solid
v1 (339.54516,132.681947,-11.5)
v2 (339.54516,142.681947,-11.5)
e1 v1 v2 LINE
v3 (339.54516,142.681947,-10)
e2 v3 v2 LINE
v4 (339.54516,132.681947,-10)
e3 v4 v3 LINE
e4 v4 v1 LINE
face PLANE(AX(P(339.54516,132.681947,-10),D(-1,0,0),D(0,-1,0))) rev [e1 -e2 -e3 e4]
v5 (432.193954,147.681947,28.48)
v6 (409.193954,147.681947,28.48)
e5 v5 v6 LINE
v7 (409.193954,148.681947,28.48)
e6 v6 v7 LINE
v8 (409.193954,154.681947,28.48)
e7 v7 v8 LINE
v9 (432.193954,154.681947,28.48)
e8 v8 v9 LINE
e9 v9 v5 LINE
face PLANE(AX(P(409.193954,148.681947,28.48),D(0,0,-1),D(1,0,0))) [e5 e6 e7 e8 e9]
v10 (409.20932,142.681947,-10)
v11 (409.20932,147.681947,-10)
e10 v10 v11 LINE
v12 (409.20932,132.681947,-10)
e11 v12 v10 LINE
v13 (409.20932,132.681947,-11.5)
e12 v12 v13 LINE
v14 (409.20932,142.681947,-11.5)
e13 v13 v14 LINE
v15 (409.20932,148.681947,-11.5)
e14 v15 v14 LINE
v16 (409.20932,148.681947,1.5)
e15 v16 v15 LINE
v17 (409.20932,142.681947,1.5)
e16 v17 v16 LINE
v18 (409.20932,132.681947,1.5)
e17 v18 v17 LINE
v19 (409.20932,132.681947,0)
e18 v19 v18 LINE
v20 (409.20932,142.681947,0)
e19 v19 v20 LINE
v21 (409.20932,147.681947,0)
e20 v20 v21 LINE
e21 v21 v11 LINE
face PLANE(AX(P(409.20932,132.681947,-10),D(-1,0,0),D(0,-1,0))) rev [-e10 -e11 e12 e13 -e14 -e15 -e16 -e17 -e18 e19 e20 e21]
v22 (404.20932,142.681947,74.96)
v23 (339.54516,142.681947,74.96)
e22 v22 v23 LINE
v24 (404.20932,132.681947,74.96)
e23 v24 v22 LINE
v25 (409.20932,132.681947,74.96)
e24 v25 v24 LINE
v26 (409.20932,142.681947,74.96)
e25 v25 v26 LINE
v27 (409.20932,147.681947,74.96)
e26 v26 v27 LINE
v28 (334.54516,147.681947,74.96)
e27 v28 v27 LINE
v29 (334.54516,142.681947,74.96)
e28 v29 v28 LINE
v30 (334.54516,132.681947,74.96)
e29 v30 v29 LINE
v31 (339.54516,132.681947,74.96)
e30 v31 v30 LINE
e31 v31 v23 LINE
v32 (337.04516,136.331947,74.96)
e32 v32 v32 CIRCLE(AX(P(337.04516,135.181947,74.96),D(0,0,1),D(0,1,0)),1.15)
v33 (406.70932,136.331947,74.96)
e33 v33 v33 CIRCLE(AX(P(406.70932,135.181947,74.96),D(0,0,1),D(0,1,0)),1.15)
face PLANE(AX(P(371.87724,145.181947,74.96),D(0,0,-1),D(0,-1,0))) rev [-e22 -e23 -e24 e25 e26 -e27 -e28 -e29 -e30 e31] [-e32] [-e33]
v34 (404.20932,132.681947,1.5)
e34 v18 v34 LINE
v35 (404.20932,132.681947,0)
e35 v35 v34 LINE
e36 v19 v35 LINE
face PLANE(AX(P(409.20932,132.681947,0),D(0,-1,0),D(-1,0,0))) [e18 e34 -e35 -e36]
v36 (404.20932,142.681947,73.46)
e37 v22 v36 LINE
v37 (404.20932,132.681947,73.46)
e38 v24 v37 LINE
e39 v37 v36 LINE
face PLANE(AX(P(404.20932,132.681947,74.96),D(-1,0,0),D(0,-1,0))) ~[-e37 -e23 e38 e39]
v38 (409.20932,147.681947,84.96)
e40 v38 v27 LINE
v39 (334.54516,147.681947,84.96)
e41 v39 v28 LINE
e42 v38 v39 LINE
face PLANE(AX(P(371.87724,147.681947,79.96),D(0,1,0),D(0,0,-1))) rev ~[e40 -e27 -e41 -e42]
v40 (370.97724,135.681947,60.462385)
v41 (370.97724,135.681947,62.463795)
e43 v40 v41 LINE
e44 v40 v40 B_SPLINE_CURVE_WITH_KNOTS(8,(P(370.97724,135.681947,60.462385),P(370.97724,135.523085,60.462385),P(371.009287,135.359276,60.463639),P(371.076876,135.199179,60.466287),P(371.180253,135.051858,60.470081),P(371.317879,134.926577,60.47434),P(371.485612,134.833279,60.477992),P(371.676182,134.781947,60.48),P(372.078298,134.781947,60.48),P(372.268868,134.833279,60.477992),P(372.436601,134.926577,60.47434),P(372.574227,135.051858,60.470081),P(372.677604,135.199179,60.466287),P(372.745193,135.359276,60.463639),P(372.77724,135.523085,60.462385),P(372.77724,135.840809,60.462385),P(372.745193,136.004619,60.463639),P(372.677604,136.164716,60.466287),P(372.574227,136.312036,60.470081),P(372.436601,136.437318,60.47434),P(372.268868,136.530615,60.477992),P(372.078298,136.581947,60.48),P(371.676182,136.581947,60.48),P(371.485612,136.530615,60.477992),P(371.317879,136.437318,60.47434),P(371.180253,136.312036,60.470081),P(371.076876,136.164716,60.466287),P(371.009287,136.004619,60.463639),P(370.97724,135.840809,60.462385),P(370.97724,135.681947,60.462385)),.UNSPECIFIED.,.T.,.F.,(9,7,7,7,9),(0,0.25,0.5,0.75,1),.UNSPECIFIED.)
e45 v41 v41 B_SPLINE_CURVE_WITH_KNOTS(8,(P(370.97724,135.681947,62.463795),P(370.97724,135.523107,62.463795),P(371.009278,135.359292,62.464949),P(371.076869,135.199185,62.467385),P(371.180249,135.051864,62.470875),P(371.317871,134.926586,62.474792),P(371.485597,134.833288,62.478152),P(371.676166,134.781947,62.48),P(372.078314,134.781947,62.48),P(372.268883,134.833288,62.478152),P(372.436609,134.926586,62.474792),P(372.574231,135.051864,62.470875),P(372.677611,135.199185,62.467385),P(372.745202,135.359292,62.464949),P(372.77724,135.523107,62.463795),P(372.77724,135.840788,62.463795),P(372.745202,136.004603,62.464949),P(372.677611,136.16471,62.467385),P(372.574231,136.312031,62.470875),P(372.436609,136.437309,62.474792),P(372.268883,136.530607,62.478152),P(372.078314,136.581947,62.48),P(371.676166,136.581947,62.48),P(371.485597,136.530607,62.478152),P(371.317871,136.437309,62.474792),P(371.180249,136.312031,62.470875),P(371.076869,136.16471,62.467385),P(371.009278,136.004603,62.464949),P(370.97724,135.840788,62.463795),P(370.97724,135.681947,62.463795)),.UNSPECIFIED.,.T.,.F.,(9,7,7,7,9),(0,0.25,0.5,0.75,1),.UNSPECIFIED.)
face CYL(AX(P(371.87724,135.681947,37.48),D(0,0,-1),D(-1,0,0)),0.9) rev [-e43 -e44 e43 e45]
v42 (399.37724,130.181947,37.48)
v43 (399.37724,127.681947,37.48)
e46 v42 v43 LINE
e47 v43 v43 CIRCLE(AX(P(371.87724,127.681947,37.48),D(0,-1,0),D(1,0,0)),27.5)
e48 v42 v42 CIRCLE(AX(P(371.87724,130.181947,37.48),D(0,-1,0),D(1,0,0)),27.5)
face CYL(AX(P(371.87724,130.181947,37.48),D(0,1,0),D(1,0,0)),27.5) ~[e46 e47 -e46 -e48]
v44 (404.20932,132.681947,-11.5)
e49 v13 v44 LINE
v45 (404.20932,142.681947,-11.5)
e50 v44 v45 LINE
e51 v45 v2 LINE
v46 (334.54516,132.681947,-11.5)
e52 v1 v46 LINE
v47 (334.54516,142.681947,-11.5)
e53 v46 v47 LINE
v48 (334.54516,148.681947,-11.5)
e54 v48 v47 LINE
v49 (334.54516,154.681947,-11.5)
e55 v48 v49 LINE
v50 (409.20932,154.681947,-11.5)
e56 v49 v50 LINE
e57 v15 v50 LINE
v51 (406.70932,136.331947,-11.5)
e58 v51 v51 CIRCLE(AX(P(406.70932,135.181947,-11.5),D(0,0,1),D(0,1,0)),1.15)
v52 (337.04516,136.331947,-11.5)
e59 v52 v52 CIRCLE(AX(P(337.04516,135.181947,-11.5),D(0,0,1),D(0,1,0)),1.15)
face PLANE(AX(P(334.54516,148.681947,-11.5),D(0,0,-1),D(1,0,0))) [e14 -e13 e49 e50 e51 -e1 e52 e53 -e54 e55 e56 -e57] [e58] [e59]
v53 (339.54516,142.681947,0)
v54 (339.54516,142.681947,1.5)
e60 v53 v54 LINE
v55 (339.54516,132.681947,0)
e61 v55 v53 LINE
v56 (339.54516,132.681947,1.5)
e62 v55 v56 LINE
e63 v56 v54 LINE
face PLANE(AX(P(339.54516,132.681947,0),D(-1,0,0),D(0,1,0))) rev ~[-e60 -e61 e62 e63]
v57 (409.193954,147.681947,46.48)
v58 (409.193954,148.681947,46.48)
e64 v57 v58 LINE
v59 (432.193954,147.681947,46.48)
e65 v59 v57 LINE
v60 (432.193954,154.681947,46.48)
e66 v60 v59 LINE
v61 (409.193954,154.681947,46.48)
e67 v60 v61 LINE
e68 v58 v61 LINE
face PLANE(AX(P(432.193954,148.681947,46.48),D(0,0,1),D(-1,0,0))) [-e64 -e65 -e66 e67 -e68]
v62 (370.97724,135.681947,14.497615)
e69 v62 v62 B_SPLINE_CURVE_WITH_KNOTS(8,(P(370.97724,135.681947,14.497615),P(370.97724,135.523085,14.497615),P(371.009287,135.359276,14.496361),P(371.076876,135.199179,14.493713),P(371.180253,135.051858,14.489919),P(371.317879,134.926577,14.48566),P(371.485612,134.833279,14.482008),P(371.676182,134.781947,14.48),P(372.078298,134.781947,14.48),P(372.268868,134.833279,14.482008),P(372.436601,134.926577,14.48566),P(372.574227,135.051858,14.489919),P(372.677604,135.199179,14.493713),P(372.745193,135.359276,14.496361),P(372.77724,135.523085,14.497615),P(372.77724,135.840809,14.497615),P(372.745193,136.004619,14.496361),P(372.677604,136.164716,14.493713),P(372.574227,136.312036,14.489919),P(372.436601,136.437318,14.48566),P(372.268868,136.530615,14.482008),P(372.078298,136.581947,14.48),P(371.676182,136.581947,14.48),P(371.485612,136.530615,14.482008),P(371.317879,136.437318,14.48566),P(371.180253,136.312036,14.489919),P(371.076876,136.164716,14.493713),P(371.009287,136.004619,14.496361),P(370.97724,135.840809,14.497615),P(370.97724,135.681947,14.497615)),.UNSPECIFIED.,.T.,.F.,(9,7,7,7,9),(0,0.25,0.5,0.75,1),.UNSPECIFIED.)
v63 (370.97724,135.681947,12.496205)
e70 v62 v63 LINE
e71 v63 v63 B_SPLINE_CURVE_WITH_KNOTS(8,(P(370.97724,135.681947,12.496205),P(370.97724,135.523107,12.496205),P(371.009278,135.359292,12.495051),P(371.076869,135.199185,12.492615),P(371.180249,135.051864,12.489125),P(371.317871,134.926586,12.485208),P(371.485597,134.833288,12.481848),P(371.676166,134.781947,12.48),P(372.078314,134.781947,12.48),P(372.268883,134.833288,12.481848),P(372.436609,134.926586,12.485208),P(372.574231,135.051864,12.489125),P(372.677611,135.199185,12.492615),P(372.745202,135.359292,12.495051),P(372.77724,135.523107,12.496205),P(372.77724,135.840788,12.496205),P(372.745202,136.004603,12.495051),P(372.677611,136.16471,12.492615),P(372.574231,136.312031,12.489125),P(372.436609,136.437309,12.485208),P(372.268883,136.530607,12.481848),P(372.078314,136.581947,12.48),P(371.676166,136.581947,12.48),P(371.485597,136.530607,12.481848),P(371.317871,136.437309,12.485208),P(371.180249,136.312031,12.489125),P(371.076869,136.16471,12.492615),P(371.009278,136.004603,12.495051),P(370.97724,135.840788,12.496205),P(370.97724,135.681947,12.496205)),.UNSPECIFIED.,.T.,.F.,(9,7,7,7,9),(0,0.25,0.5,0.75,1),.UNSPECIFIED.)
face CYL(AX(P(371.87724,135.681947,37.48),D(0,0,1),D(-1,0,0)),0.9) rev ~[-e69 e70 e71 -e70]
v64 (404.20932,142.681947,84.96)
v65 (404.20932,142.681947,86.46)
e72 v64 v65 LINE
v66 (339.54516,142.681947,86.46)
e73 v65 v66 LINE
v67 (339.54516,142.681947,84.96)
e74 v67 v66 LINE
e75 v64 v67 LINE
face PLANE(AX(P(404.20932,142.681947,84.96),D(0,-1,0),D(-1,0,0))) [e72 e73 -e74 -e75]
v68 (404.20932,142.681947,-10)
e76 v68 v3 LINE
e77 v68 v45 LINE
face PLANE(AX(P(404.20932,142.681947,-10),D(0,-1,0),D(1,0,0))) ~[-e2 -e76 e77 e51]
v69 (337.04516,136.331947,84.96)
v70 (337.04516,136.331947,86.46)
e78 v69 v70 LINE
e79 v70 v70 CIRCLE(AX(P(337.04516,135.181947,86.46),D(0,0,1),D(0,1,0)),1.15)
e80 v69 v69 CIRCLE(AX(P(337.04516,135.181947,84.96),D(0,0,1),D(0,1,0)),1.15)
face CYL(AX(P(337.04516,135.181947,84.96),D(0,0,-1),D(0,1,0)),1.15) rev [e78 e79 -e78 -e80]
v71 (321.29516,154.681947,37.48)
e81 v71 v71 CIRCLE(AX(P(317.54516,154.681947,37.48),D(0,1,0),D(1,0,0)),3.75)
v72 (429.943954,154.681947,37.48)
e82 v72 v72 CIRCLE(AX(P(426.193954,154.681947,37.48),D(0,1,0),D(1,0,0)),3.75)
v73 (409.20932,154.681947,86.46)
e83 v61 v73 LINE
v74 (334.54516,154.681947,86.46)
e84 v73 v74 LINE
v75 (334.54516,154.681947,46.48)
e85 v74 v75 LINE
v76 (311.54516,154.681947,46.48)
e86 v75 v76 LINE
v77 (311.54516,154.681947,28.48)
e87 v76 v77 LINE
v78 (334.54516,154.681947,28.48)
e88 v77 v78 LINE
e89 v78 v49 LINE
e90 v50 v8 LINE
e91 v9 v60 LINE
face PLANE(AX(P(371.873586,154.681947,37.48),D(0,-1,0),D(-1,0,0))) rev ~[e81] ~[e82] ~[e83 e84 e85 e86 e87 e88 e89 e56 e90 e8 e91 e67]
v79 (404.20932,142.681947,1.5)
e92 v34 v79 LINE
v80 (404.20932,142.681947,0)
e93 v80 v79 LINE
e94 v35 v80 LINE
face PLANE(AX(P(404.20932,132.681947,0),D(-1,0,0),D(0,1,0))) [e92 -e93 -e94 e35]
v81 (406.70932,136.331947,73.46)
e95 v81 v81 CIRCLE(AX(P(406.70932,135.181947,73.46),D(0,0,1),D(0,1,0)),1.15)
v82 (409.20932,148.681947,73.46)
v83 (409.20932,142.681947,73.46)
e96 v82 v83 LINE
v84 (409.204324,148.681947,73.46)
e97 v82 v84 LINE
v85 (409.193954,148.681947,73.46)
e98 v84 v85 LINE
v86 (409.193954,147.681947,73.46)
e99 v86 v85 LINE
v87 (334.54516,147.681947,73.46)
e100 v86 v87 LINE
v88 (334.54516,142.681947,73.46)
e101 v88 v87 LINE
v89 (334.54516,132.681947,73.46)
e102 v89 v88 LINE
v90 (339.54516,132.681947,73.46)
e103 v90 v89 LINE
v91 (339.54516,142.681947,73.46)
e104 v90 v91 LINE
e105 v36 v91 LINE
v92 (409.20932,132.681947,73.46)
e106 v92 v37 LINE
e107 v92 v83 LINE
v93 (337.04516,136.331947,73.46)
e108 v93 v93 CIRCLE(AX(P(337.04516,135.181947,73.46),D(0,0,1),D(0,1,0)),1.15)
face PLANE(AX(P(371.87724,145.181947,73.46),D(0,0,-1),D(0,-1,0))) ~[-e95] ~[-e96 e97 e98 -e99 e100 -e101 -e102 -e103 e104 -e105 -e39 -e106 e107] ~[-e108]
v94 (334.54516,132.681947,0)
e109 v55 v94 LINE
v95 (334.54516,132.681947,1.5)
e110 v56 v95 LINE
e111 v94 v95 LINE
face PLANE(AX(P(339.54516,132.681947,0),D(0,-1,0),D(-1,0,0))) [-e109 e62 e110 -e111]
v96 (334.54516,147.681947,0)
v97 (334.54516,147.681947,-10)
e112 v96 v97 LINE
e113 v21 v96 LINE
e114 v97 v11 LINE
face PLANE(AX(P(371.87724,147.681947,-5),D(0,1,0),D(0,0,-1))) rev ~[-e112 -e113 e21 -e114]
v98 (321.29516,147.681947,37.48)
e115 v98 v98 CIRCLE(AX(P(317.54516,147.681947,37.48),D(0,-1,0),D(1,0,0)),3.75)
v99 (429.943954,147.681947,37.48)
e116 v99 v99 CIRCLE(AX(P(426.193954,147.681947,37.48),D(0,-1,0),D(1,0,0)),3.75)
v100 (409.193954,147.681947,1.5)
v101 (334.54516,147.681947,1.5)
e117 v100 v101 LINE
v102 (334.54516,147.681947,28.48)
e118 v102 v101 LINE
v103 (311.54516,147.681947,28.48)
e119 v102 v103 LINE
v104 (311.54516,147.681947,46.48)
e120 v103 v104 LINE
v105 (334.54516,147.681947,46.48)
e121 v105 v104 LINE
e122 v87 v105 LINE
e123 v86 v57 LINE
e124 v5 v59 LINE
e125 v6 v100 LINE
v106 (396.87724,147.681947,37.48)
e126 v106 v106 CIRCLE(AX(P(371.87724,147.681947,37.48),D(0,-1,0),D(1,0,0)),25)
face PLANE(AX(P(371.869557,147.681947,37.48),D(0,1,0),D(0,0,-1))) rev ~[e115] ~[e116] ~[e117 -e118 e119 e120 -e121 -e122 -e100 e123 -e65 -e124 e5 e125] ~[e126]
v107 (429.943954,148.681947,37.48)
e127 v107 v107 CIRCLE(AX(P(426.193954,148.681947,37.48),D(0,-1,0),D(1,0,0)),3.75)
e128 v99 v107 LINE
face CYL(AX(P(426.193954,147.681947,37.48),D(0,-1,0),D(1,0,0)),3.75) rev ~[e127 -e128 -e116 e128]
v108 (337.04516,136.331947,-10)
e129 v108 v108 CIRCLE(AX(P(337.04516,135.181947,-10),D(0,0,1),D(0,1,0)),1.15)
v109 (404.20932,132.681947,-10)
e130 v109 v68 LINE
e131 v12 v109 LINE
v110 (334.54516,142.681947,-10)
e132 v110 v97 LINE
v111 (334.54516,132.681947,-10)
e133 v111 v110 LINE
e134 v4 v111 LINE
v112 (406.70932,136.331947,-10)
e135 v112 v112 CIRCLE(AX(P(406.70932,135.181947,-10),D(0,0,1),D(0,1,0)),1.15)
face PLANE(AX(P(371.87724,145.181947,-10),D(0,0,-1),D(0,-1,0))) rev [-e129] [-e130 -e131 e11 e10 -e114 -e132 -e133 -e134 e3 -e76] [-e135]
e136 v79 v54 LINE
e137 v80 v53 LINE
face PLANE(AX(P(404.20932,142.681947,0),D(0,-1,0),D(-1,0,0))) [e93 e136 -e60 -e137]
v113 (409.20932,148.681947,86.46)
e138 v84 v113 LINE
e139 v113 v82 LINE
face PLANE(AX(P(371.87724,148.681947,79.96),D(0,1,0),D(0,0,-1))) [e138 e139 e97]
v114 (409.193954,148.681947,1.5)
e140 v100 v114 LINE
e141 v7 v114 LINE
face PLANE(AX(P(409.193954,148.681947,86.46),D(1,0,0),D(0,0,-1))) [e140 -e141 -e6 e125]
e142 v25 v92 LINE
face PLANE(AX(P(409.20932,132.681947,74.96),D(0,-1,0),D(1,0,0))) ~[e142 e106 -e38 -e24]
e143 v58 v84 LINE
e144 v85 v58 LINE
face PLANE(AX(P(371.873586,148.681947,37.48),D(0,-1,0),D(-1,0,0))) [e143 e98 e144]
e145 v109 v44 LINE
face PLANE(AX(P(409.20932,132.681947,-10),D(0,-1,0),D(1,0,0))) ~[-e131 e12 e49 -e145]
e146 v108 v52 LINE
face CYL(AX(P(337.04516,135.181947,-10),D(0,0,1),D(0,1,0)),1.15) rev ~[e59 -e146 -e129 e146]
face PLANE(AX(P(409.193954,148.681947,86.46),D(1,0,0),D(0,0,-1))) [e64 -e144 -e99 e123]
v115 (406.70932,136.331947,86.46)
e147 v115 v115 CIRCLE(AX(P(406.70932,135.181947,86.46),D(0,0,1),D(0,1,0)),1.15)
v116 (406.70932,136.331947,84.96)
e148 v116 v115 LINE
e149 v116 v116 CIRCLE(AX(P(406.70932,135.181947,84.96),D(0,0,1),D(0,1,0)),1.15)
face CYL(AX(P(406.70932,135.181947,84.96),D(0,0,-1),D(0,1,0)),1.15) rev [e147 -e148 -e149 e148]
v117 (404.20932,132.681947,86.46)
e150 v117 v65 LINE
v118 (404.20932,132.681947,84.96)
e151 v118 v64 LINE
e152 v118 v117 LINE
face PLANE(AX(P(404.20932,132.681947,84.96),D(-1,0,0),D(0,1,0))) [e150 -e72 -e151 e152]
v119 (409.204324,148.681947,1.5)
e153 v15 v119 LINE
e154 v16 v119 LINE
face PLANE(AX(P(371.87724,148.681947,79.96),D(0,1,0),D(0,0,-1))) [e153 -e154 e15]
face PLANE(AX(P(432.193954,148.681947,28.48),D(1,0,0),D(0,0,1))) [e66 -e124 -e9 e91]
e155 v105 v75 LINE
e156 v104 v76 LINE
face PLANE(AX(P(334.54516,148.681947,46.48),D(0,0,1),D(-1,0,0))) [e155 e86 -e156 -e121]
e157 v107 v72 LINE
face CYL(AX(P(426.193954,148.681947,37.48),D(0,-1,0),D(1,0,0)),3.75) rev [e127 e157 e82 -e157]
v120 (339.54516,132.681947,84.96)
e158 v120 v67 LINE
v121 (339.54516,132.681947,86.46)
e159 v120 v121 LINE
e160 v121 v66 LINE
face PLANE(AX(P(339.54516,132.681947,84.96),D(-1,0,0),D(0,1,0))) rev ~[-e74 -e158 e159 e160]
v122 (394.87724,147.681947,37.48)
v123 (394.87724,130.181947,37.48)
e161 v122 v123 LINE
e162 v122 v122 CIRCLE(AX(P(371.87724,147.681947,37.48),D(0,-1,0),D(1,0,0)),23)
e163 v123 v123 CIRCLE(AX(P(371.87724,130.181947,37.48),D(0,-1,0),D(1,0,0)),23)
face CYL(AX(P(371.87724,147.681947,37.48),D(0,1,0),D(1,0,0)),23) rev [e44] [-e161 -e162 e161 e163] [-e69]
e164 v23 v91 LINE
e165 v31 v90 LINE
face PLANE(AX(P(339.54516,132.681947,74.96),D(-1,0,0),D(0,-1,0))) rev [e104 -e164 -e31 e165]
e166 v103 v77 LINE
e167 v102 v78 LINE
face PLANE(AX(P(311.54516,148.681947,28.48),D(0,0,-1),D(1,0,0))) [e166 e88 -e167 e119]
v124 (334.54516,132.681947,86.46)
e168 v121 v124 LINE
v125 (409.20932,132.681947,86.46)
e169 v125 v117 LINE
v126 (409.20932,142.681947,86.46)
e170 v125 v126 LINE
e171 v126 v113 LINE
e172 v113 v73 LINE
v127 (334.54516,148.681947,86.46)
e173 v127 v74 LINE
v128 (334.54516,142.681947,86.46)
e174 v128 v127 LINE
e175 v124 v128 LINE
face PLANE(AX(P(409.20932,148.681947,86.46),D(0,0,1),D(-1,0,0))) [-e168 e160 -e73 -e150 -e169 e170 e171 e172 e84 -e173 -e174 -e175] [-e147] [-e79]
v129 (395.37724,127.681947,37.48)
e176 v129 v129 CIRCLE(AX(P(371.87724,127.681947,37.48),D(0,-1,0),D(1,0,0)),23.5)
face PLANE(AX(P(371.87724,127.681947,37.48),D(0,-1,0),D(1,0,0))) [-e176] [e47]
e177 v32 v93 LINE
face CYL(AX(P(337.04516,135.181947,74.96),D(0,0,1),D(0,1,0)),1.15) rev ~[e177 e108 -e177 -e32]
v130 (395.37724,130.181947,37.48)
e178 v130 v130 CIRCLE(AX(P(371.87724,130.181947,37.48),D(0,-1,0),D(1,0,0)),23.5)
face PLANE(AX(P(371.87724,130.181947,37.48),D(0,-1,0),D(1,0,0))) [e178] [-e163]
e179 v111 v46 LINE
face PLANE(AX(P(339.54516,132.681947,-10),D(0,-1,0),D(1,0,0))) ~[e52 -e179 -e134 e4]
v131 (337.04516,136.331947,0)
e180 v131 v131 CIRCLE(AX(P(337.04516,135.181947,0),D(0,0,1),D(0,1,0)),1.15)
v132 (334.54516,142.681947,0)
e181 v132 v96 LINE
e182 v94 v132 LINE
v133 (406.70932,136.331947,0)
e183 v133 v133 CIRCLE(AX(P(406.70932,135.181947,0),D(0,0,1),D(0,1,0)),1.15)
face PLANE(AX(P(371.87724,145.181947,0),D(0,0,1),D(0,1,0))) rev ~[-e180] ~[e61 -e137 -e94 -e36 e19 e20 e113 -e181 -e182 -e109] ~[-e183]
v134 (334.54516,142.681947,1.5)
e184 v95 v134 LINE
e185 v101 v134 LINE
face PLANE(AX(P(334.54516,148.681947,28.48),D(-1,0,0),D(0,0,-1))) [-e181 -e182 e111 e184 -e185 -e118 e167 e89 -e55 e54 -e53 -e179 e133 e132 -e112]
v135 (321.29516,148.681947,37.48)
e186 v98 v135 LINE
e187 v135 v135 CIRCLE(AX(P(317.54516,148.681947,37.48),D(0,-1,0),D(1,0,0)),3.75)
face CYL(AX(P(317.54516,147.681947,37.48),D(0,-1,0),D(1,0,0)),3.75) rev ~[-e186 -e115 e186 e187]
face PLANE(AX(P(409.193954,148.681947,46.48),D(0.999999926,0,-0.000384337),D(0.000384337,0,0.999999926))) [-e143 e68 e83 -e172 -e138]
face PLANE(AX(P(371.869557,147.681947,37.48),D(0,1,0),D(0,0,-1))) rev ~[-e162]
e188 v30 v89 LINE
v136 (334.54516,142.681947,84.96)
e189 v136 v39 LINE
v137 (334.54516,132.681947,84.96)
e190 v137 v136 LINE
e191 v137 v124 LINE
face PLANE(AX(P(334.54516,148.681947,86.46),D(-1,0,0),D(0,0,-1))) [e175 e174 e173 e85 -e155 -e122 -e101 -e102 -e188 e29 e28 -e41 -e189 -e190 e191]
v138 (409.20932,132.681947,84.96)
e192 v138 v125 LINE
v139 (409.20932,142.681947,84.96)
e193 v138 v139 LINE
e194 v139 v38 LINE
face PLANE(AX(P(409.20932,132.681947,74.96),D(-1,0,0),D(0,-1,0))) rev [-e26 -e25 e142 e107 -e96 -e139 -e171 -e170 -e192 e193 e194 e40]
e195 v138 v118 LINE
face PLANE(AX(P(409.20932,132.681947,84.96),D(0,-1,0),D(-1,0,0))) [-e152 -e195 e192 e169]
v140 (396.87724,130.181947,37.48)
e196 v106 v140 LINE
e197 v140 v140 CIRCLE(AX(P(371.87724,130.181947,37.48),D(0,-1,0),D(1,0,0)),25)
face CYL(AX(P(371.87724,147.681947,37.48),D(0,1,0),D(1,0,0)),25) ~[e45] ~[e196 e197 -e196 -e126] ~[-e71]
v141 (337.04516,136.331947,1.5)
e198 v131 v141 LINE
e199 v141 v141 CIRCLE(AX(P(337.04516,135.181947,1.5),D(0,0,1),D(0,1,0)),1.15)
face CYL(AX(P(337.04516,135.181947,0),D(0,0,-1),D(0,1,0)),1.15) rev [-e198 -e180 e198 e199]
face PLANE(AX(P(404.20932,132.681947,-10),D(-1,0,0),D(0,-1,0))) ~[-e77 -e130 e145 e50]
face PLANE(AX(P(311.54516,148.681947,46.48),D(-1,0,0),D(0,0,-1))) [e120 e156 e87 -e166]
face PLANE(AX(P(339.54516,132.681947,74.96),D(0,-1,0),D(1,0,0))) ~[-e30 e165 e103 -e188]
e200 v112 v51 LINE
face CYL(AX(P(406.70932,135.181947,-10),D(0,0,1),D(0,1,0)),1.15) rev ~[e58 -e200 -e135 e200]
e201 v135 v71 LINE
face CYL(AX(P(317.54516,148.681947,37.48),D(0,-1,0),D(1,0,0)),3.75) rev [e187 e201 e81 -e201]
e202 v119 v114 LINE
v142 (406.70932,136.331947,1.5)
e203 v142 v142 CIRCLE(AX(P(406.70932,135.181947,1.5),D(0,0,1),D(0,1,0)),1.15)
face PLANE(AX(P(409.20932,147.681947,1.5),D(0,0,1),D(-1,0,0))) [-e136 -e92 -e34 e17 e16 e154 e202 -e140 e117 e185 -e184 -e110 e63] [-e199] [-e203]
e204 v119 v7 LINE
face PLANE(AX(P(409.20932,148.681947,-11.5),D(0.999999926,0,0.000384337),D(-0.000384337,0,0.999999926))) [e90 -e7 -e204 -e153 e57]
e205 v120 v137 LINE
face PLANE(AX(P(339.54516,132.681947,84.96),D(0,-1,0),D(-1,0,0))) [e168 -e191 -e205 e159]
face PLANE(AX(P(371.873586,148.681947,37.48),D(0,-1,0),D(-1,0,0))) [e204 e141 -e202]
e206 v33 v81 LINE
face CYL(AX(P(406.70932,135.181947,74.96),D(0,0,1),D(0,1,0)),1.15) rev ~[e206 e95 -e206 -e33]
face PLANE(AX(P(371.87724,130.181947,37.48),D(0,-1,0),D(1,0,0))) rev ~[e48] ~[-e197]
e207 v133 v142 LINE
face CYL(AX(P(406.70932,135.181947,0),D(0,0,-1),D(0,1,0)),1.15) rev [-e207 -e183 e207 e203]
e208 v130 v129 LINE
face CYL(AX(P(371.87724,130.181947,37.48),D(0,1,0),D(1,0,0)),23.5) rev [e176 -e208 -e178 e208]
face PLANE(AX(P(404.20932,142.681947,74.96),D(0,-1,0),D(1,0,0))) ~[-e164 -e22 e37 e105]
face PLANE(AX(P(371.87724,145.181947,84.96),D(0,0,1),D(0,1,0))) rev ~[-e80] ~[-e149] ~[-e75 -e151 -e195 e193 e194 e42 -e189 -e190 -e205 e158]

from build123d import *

# Parameters (mm, degrees)
SKETCH2_W               = 5
SKETCH2_H               = 74.664160083
SKETCH2_W_2             = 10
SKETCH2_H_2             = 5
SKETCH2_R               = 1.15
BOSS_EXTRUDE1_DEPTH     = 1.5
SKETCH3_W               = 13
SKETCH3_H               = 74.664160083
BOSS_EXTRUDE2_DEPTH     = 1
SKETCH5_W               = 97.96
SKETCH5_H               = 74.648794292
BOSS_EXTRUDE3_DEPTH     = 1
SKETCH6_R               = 25
SKETCH6_R_2             = 23
BOSS_EXTRUDE4_DEPTH     = 17.5
SKETCH8_R               = 27.5
SKETCH8_R_2             = 23.5
BOSS_EXTRUDE6_DEPTH     = 2.5
SKETCH13_W              = 18
SKETCH13_H              = 23
BOSS_EXTRUDE7_DEPTH     = 1
SKETCH15_R              = 3.75
CUT_EXTRUDE3_DEPTH      = 1
BODY_MOVE_COPY2_ANGLE   = 90
SKETCH16_R              = 3.75
BOSS_EXTRUDE8_DEPTH     = 6
SKETCH17_R              = 0.9
CUT_EXTRUDE4_DEPTH      = 46
CUT_EXTRUDE4_DEPTH_BACK = 44


with BuildPart() as part:
    # Sketch2 → Boss-Extrude1 (new body)
    with BuildSketch(Plane.XY):
        with Locations((376.369557123, 140.674264472)):
            Rectangle(SKETCH2_W, SKETCH2_H)
        with Locations((368.869557123, 175.506344513)):
            Rectangle(SKETCH2_W_2, SKETCH2_H_2)
        with Locations((366.369557123, 175.506344513)):
            Circle(SKETCH2_R, mode=Mode.SUBTRACT)
        with Locations((368.869557123, 105.84218443)):
            Rectangle(SKETCH2_W_2, SKETCH2_H_2)
        with Locations((366.369557123, 105.84218443)):
            Circle(SKETCH2_R, mode=Mode.SUBTRACT)
    boss_extrude1 = extrude(amount=BOSS_EXTRUDE1_DEPTH)

    # Sketch3 → Boss-Extrude2 (add)
    with BuildSketch(Plane(origin=(378.869557123, 0, 0), x_dir=(0, 0, -1), z_dir=(1, 0, 0))):
        with Locations((5, 140.674264472)):
            Rectangle(SKETCH3_W, SKETCH3_H)
    extrude(amount=BOSS_EXTRUDE2_DEPTH)

    # Mirror3: Boss-Extrude1 across plane
    add(boss_extrude1.mirror(Plane(origin=(0, 0, -5), x_dir=(1, 0, 0), z_dir=(0, 0, -1))))


with BuildPart() as body_2:
    # Body-Move/Copy1: copy of part
    add(part.part.moved(Location((0, 0, 84.96))))


with BuildPart() as part_1:
    add(part.part)

    add(body_2.part)  # Boss-Extrude3 merges body 2
    # Sketch5 → Boss-Extrude3 (add)
    with BuildSketch(Plane(origin=(379.869557123, 0, 0), x_dir=(0, 0, -1), z_dir=(1, 0, 0))):
        with Locations((-37.48, 140.681947367)):
            Rectangle(SKETCH5_W, SKETCH5_H)
    extrude(amount=-BOSS_EXTRUDE3_DEPTH)

    # Sketch6 → Boss-Extrude4 (add)
    with BuildSketch(Plane.ZY.offset(-378.869557123)):
        with Locations(Location((37.48, 140.674264472, 0), (0, 0, 270))):
            Circle(SKETCH6_R)
        with Locations(Location((37.48, 140.674264472, 0), (0, 0, 270))):
            Circle(SKETCH6_R_2, mode=Mode.SUBTRACT)
    extrude(amount=BOSS_EXTRUDE4_DEPTH)

    # Sketch8 → Boss-Extrude6 (add)
    with BuildSketch(Plane.ZY.offset(-361.369557123)):
        with Locations(Location((37.48, 140.674264472, 0), (0, 0, 270))):
            Circle(SKETCH8_R)
        with Locations(Location((37.48, 140.674264472, 0), (0, 0, 270))):
            Circle(SKETCH8_R_2, mode=Mode.SUBTRACT)
    extrude(amount=BOSS_EXTRUDE6_DEPTH)

    # Sketch13 → Boss-Extrude7 (add)
    with BuildSketch(Plane.ZY.offset(-378.869557123)):
        with Locations((37.48, 189.506344513)):
            Rectangle(SKETCH13_W, SKETCH13_H)
        with Locations((37.48, 91.857550221)):
            Rectangle(SKETCH13_W, SKETCH13_H)
    extrude(amount=-BOSS_EXTRUDE7_DEPTH)

    # Sketch15 → Cut-Extrude3 (cut)
    with BuildSketch(Plane.ZY.offset(-378.869557123)):
        with Locations(Location((37.48, 195.006344513, 0), (0, 0, 270))):
            Circle(SKETCH15_R)
        with Locations(Location((37.48, 86.357550221, 0), (0, 0, 270))):
            Circle(SKETCH15_R)
    extrude(amount=-CUT_EXTRUDE3_DEPTH, mode=Mode.SUBTRACT)


with BuildPart() as part_2:
    # Body-Move/Copy2: moved
    add(part_1.part.rotate(Axis((371.869557123, 140.681947367, 0), (0, 0, 1)), BODY_MOVE_COPY2_ANGLE))

    # Sketch16 → Boss-Extrude8 (add)
    with BuildSketch(Plane(origin=(0, 148.681947367, 0), x_dir=(1, 0, 0), z_dir=(0, 1, 0))):
        Polygon((334.545159977, -28.48), (334.545159977, 11.5), (409.20932006, 11.5), (409.193954269, -28.48), (432.193954269, -28.48), (432.193954269, -46.48), (409.193954269, -46.48), (409.20932006, -86.46), (334.545159977, -86.46), (334.545159977, -46.48), (311.545159977, -46.48), (311.545159977, -28.48), align=None)
        with Locations((317.545159977, -37.48)):
            Circle(SKETCH16_R, mode=Mode.SUBTRACT)
        with Locations((426.193954269, -37.48)):
            Circle(SKETCH16_R, mode=Mode.SUBTRACT)
    extrude(amount=BOSS_EXTRUDE8_DEPTH)

    # Sketch17 → Cut-Extrude4 (cut, two sides)
    with BuildSketch(Plane.XY.offset(37.48)) as cut_extrude4_sk:
        with Locations(Location((371.877240018, 135.681947367, 0), (0, 0, 180))):
            Circle(SKETCH17_R)
    extrude(amount=CUT_EXTRUDE4_DEPTH, mode=Mode.SUBTRACT)
    extrude(cut_extrude4_sk.sketch, amount=-CUT_EXTRUDE4_DEPTH_BACK, mode=Mode.SUBTRACT)


solid = part_2.part
